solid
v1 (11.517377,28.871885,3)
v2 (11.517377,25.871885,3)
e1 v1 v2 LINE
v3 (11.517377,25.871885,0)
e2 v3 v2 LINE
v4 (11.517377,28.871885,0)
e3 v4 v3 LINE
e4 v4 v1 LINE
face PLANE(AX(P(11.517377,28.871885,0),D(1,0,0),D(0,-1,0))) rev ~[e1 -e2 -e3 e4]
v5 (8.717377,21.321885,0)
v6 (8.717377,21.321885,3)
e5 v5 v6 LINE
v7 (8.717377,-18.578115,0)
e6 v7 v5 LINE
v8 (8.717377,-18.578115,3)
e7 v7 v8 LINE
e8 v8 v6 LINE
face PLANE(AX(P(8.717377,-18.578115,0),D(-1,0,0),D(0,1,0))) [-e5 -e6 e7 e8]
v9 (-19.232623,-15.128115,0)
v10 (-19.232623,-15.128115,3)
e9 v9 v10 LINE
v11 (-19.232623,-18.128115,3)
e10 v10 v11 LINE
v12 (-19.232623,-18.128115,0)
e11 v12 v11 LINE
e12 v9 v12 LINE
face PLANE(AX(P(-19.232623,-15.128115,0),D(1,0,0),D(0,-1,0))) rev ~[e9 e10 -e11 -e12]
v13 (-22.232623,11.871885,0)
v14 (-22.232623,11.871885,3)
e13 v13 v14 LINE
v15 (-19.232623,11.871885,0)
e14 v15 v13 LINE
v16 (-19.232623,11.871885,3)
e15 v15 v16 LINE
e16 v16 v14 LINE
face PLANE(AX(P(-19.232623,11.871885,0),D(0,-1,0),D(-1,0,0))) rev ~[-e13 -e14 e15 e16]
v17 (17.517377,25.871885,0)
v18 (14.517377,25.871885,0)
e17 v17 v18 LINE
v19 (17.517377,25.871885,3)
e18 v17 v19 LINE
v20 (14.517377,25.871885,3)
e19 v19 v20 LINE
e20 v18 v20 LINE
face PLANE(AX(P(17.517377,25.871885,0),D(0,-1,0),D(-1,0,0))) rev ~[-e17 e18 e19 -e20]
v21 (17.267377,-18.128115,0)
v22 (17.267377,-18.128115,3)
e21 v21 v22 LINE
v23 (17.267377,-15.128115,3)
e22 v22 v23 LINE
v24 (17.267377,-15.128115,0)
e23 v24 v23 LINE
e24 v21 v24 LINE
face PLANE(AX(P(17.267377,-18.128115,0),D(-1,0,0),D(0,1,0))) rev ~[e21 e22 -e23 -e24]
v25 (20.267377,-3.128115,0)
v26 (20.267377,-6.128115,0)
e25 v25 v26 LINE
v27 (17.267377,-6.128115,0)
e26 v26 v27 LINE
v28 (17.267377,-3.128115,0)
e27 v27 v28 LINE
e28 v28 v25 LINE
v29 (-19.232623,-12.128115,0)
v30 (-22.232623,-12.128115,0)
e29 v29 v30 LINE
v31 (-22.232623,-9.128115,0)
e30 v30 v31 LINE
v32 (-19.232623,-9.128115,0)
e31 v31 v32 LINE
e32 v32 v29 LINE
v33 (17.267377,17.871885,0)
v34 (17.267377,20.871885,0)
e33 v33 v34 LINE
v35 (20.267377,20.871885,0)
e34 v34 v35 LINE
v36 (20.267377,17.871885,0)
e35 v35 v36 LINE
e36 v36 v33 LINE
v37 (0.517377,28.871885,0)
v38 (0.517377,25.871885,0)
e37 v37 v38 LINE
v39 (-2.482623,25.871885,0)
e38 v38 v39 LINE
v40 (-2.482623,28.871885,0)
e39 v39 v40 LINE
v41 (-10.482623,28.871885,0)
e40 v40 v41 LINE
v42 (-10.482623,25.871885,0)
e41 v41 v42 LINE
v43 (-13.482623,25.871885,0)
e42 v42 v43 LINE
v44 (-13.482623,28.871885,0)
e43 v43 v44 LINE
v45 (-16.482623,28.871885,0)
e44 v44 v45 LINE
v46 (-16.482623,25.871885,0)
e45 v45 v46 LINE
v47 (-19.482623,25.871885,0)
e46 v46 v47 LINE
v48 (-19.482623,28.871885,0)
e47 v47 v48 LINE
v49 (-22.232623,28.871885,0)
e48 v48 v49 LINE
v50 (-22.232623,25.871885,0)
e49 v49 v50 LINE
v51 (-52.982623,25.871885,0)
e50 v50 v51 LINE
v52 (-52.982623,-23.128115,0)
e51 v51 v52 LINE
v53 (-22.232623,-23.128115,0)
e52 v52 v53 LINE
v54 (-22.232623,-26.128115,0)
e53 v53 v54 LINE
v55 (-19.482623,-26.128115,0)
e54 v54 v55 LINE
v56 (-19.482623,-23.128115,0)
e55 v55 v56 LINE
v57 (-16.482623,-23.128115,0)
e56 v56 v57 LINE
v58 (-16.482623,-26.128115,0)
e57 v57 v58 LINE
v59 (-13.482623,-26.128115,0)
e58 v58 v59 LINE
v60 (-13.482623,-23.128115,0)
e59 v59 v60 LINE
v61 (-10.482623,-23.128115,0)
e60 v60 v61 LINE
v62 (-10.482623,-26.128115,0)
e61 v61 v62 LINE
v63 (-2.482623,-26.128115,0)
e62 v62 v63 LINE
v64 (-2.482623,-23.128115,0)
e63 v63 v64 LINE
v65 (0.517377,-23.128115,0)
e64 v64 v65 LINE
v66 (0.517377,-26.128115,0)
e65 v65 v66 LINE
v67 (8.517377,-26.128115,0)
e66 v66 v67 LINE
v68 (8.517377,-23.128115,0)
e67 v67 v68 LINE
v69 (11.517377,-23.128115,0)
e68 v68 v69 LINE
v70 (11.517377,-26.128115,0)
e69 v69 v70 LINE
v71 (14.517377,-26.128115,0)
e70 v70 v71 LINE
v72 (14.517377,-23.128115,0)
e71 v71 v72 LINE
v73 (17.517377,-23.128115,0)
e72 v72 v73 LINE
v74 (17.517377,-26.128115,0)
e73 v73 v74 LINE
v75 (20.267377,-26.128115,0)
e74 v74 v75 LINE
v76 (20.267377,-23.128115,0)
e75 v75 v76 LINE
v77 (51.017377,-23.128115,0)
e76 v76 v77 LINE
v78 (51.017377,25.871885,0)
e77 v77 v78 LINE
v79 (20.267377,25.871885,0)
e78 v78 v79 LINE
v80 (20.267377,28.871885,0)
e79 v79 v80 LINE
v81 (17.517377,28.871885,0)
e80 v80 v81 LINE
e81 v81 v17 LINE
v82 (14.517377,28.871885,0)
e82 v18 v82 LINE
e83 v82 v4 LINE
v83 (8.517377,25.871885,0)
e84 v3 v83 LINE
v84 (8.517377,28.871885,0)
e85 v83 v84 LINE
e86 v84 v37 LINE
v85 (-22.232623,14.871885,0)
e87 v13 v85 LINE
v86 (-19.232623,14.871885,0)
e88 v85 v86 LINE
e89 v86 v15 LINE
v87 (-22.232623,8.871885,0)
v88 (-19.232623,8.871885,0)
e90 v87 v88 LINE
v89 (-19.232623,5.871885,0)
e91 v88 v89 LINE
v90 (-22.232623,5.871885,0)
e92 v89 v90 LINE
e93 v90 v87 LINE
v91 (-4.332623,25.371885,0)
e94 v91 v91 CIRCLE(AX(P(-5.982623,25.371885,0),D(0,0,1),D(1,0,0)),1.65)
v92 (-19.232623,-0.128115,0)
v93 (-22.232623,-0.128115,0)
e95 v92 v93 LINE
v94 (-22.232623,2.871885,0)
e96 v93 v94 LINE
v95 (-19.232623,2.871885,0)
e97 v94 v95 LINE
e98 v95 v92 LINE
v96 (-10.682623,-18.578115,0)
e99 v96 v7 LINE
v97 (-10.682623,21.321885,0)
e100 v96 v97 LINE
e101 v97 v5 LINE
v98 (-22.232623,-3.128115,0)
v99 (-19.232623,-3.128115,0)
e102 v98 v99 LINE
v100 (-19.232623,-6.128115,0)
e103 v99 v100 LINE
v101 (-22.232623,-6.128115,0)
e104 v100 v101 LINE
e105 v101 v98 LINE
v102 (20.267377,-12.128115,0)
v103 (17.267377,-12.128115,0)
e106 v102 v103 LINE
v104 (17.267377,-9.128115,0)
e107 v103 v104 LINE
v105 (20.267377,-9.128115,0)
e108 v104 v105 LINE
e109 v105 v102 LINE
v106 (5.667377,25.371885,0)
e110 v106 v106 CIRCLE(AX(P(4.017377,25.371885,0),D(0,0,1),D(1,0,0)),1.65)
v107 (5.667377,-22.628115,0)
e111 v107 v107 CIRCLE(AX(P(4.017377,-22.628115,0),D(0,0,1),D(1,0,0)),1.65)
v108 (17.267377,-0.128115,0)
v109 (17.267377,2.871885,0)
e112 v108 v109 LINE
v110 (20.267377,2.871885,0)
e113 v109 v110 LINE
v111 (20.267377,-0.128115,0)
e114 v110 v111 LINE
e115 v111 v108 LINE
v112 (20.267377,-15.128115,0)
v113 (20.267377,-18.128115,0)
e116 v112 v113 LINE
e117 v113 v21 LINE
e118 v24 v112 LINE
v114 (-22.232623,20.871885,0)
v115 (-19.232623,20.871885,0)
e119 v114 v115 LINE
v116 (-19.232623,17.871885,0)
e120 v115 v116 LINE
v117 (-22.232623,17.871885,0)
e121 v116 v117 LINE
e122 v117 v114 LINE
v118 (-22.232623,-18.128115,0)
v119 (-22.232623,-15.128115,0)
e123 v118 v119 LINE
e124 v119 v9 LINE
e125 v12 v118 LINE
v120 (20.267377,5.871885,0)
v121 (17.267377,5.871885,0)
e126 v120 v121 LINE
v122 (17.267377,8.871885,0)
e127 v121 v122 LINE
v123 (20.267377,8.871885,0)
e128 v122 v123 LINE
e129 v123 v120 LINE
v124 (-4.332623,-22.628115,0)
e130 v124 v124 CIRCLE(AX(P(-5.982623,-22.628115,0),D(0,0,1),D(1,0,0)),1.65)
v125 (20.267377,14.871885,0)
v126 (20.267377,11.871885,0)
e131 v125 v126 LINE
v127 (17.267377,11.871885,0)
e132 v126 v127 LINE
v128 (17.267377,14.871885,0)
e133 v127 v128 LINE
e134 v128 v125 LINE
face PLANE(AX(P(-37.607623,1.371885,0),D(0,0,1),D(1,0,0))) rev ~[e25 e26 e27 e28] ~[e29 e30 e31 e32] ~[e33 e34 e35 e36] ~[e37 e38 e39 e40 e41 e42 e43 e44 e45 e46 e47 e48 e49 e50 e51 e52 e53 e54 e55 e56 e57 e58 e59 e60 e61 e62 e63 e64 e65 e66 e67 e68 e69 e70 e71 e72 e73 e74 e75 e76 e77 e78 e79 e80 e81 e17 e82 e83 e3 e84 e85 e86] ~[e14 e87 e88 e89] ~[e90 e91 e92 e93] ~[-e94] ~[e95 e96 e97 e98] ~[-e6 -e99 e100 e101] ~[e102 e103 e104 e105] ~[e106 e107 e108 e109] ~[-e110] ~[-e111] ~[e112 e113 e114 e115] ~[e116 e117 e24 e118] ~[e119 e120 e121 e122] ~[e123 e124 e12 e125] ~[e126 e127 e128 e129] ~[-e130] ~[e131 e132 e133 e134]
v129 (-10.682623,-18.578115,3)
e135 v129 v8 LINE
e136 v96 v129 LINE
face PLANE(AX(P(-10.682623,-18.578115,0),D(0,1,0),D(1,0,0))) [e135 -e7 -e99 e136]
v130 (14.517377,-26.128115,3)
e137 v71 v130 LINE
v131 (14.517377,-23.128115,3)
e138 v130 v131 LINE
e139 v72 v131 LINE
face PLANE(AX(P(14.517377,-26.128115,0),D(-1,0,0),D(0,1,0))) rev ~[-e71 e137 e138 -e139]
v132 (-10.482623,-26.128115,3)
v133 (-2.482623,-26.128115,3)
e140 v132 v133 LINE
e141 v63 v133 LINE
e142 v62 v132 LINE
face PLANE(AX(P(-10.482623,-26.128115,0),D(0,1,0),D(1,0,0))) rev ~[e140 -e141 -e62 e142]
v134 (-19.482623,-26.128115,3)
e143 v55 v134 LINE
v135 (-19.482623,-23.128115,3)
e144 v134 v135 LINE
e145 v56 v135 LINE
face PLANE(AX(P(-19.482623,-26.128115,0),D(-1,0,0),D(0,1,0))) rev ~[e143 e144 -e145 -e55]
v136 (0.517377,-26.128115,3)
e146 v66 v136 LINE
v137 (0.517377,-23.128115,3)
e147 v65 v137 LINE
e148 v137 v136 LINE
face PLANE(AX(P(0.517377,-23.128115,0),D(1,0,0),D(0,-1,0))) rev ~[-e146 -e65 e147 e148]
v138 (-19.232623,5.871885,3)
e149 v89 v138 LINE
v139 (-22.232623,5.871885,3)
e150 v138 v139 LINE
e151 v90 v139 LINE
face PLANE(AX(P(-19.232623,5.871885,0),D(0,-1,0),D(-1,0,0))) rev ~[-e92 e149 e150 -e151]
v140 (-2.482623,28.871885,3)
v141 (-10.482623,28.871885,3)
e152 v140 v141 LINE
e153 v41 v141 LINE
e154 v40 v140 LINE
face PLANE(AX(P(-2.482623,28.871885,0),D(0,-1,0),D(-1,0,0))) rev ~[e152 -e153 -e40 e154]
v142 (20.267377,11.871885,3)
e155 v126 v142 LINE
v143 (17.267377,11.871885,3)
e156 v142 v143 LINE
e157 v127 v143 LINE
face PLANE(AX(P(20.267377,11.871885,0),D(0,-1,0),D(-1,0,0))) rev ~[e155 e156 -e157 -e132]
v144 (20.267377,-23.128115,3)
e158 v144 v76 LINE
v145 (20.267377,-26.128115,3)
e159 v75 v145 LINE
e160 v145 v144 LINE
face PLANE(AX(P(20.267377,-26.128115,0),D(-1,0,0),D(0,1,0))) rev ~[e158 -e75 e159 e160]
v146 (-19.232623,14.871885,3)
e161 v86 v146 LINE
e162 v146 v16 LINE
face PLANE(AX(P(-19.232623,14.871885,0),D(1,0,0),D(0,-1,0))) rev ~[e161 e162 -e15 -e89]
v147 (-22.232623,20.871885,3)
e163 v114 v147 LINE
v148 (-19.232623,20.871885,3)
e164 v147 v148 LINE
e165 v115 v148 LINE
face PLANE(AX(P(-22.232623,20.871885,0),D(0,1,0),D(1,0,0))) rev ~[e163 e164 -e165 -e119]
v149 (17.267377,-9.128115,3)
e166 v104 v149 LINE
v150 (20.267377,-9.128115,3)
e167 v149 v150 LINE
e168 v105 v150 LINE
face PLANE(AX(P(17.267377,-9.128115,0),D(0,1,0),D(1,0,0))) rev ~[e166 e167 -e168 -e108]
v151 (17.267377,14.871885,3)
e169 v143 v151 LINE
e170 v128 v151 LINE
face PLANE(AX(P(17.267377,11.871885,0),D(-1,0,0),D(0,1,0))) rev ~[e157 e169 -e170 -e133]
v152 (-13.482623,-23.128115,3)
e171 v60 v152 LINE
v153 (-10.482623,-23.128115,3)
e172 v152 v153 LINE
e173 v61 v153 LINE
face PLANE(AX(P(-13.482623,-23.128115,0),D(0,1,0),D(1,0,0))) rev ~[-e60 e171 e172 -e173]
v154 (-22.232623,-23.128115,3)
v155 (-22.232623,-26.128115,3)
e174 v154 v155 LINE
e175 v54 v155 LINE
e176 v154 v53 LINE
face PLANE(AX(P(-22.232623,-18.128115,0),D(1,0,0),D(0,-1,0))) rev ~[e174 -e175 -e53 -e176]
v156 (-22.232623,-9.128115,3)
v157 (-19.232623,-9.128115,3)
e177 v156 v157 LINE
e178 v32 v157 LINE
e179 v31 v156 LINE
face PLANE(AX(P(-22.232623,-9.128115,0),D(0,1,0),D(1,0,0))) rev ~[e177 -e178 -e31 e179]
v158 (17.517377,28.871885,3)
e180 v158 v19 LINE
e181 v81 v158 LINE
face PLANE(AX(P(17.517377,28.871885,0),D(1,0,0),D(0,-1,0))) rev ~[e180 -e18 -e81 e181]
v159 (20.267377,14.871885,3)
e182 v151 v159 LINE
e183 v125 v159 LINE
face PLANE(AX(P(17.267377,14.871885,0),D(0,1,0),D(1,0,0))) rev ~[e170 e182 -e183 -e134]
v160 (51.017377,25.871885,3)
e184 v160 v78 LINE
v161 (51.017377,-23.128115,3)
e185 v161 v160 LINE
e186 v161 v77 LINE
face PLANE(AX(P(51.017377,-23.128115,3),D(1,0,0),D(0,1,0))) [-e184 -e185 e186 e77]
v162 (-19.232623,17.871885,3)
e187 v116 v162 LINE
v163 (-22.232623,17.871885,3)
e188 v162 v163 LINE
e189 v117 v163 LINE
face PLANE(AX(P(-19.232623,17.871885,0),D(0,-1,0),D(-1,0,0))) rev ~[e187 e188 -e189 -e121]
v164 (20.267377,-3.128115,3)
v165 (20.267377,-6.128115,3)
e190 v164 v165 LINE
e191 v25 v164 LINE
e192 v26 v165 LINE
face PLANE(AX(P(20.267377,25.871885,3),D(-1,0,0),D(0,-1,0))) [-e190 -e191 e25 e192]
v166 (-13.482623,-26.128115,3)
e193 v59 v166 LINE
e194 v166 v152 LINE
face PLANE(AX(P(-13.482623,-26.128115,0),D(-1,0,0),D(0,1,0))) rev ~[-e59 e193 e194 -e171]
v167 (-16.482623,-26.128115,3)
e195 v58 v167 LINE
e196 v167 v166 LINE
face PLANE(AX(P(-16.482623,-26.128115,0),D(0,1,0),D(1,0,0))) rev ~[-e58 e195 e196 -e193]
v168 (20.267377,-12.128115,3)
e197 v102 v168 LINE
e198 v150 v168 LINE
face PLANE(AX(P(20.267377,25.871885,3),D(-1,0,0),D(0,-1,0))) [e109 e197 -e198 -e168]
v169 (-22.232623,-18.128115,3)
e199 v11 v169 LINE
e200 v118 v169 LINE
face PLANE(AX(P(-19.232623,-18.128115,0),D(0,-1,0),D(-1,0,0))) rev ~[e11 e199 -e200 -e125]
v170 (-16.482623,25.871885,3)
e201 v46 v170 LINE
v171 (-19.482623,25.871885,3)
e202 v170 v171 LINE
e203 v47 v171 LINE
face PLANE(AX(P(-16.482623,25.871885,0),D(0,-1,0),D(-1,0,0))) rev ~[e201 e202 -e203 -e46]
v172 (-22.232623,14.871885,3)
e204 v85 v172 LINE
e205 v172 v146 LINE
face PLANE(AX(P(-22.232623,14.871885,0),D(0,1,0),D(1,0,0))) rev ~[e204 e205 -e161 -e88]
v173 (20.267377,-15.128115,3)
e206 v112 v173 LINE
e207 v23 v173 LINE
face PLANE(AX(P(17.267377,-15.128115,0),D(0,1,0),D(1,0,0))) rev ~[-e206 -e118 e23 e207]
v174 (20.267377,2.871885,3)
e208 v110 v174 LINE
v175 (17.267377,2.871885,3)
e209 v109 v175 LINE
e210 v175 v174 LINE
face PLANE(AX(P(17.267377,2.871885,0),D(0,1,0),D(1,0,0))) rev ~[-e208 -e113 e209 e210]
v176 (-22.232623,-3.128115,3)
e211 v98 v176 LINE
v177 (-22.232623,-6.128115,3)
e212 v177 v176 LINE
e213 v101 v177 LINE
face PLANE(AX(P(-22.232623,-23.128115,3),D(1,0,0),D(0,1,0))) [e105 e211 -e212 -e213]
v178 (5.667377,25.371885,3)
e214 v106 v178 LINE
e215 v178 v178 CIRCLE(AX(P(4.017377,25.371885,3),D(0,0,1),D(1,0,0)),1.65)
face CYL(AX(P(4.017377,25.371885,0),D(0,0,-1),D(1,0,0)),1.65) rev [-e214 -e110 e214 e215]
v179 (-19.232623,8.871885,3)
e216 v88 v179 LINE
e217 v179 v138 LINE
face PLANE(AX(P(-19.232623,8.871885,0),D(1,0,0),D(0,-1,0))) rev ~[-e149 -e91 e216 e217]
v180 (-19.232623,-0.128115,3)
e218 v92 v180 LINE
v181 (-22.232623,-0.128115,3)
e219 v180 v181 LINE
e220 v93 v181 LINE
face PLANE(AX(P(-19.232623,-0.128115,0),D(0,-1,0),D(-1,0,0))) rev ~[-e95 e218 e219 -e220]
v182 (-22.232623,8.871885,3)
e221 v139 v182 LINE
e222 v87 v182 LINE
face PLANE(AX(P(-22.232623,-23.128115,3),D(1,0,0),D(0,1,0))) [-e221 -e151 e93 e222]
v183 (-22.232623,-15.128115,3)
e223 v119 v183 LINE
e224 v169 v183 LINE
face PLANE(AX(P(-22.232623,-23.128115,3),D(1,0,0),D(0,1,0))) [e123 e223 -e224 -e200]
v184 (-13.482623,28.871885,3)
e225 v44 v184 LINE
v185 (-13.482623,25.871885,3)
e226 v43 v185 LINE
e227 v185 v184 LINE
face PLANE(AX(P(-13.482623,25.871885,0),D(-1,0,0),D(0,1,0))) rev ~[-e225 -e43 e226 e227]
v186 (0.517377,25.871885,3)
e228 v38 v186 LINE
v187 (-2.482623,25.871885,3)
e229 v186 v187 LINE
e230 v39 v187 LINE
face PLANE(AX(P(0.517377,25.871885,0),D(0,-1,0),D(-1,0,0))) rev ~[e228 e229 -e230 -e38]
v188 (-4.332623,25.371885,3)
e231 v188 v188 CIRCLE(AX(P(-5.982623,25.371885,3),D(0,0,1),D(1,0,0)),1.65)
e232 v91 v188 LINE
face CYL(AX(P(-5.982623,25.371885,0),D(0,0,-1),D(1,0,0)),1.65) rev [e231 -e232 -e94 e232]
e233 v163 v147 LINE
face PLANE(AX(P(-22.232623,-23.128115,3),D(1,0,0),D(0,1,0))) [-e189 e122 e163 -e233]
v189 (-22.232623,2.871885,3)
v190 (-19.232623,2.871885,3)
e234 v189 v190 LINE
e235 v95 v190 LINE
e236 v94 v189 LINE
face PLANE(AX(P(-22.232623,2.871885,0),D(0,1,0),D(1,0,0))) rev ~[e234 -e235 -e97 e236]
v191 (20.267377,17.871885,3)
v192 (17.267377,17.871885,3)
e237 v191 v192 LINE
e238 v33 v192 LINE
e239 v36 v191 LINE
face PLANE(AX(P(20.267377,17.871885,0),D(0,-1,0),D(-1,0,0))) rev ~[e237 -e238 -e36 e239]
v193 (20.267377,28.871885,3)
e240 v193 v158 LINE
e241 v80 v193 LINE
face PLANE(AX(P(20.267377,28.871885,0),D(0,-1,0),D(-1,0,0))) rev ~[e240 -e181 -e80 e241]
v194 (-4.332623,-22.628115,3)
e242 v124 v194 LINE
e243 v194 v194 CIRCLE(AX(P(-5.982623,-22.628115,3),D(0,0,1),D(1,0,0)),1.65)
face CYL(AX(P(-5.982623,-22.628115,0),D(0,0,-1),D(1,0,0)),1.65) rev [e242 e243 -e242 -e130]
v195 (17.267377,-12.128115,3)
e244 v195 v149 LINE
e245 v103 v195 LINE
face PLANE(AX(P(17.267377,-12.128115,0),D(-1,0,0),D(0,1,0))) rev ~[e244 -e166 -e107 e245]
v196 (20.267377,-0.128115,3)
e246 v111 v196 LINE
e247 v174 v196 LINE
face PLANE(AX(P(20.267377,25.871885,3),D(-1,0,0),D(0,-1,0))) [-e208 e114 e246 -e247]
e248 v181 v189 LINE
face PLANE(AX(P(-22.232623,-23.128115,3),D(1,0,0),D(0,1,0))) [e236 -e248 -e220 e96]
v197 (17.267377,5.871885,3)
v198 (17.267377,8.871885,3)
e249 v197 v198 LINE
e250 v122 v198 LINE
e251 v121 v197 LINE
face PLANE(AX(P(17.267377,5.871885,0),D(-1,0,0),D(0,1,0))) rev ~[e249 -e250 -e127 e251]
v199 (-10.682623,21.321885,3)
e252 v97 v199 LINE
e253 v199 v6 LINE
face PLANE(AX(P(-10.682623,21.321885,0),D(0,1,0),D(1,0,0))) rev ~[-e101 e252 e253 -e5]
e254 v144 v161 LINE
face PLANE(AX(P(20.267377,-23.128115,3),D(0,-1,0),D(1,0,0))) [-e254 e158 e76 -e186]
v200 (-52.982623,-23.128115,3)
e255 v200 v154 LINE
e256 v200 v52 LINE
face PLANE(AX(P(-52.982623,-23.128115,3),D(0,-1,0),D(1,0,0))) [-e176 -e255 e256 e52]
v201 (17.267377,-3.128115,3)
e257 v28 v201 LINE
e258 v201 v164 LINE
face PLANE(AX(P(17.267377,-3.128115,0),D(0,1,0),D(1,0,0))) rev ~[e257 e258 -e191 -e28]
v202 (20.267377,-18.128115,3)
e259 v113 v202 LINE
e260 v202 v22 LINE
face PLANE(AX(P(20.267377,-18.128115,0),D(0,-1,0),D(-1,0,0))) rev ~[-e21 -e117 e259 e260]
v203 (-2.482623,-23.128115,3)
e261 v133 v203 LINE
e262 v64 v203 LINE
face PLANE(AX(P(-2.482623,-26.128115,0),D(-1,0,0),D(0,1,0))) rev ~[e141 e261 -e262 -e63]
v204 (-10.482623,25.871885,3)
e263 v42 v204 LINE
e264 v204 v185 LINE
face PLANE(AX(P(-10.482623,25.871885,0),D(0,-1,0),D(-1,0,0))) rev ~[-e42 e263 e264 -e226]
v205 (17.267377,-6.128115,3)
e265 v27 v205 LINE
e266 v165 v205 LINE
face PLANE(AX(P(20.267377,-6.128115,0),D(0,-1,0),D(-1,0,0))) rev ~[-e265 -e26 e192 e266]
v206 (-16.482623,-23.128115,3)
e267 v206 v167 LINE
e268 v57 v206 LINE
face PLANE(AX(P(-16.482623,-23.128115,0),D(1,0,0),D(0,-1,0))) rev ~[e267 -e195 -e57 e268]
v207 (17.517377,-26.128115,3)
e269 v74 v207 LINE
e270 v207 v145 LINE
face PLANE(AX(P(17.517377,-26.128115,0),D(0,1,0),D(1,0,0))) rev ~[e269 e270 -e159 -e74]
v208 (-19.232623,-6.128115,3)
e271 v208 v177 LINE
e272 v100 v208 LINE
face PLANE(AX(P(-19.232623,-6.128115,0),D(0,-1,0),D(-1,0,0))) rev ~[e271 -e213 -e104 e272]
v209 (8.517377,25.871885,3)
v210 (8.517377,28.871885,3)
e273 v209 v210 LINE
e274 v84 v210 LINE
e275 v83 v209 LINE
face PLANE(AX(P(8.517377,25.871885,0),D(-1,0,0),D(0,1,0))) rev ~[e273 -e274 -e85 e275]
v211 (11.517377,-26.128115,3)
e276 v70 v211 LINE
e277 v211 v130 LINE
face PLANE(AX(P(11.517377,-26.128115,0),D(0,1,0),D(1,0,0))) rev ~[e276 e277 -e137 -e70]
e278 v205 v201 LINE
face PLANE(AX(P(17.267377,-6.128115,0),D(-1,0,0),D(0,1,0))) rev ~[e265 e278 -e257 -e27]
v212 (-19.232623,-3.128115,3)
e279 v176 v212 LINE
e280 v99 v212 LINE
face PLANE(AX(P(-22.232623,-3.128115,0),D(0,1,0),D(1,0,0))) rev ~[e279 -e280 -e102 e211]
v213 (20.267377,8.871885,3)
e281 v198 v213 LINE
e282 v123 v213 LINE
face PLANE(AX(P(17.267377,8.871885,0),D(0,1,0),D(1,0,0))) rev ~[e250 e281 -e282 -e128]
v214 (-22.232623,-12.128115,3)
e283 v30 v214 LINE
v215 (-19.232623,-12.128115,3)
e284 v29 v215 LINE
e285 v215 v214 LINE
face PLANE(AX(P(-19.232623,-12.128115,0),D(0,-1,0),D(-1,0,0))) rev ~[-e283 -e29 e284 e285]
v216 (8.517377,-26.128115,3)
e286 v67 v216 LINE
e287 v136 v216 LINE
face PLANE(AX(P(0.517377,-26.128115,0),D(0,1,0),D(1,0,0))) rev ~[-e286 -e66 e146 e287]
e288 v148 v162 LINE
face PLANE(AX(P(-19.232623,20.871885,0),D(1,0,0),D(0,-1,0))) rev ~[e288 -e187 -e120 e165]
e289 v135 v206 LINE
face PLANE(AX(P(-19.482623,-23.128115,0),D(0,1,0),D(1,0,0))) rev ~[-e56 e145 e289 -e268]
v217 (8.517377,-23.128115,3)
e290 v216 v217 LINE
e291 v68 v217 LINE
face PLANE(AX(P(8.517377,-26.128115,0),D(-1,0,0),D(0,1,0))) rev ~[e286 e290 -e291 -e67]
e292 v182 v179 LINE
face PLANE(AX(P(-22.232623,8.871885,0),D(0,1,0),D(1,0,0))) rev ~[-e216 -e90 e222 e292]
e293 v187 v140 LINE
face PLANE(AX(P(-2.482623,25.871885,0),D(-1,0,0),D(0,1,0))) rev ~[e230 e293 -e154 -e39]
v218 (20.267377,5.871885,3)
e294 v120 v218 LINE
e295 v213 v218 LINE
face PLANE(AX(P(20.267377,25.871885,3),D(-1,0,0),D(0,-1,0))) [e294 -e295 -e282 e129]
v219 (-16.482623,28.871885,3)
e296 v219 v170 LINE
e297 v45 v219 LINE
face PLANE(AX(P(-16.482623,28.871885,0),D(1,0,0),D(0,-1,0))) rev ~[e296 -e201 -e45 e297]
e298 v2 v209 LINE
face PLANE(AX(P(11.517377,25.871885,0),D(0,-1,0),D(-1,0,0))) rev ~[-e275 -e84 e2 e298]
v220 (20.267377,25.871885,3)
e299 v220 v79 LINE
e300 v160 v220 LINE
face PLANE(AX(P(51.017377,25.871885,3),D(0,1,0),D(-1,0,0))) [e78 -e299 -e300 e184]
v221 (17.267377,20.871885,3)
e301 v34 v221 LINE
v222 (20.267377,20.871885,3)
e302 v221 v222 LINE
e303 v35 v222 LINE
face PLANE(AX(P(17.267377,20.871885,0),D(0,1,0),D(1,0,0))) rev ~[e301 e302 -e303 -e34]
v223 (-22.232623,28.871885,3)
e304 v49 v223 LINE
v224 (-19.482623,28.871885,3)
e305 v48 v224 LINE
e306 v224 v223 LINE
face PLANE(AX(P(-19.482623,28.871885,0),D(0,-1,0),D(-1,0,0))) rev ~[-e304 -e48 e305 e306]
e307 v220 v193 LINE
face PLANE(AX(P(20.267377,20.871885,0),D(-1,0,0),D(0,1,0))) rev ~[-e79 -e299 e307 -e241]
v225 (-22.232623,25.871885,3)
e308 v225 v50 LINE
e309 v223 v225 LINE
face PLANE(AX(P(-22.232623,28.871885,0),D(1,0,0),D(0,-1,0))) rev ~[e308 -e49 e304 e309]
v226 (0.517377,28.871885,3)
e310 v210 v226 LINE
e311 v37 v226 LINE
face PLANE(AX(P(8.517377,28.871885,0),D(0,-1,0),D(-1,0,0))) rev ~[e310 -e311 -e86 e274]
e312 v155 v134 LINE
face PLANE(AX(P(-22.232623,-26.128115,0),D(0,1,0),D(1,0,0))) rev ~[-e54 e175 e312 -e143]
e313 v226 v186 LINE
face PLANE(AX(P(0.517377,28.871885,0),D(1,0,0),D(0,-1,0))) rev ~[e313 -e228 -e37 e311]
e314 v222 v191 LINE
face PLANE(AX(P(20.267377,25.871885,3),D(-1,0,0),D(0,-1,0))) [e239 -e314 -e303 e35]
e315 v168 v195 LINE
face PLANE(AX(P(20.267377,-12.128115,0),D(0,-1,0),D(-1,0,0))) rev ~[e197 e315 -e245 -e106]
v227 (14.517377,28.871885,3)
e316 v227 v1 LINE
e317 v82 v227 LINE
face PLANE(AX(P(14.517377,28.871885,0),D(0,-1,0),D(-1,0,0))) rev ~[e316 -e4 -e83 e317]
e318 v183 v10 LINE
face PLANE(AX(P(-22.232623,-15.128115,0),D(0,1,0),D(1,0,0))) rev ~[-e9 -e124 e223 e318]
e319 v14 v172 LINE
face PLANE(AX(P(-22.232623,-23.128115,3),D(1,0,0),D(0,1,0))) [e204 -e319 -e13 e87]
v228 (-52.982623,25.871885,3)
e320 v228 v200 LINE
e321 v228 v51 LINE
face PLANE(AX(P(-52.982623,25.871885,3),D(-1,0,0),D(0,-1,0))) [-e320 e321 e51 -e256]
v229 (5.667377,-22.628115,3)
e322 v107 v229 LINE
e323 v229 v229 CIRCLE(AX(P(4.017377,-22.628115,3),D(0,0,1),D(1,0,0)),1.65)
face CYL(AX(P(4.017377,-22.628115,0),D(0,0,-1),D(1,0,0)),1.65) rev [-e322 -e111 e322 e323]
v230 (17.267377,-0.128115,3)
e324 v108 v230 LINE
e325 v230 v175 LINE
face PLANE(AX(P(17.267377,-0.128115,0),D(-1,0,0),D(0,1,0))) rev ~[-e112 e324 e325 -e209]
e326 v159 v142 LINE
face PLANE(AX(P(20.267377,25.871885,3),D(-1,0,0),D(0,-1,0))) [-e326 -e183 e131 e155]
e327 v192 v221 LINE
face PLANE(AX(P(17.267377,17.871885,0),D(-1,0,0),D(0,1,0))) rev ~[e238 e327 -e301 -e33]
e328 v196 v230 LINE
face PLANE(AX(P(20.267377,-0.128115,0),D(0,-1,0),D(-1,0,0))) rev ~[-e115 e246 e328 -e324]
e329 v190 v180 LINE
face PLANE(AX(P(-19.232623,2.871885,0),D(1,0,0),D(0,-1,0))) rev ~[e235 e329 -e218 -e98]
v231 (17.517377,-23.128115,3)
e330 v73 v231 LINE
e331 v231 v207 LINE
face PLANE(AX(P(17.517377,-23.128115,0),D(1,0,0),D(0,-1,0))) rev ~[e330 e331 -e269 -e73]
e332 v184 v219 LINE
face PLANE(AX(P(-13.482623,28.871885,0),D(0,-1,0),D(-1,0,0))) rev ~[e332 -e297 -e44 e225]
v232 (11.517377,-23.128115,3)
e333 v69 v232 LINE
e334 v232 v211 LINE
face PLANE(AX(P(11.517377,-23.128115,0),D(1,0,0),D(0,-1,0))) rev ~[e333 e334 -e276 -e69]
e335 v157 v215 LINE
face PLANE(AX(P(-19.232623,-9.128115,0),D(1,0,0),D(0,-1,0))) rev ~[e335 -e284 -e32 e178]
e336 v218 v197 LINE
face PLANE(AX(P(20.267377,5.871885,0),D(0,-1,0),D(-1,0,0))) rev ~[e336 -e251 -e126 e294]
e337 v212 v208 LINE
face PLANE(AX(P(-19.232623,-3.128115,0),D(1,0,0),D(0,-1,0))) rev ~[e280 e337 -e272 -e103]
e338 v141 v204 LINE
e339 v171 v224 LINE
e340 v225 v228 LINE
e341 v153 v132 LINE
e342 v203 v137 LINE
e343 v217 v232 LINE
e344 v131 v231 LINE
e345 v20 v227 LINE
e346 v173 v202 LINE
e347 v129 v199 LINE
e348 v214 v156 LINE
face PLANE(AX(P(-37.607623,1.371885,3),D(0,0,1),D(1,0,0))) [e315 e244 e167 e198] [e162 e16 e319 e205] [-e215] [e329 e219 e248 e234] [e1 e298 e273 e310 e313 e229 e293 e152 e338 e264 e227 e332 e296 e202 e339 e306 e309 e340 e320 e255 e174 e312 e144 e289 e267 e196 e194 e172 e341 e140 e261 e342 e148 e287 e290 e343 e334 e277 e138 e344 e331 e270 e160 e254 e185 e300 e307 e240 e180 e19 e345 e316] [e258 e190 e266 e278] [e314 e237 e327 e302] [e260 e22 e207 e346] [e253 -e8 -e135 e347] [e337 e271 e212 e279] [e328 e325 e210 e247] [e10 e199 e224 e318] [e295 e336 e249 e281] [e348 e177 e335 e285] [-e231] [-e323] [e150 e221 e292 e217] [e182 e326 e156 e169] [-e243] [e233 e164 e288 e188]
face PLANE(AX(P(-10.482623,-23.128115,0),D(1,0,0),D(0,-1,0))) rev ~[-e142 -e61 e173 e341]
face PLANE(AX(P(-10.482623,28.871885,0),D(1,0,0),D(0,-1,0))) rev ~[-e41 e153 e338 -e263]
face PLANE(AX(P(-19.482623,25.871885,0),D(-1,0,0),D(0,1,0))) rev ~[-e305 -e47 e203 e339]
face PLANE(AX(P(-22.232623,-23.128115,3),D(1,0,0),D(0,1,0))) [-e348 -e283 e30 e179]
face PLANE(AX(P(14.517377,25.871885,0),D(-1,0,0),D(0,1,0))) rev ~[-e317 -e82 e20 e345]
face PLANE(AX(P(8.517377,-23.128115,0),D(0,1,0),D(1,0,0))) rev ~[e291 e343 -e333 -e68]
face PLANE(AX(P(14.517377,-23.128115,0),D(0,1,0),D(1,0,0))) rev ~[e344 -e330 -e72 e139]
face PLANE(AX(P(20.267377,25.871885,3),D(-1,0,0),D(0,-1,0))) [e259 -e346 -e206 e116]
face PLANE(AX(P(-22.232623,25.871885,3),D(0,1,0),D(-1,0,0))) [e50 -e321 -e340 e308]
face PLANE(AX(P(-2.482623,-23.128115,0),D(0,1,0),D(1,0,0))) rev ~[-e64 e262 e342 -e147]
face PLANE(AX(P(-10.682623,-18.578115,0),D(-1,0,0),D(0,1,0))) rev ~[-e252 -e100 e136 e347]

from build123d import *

# Parameters (mm, degrees)
F0_R     = 1.65
F0_W     = 19.4
F0_H     = 39.9
F1_DEPTH = 3
F3_DEPTH = 3


with BuildPart() as f1:
    # F0 (on Top) → F1 (new body)
    with BuildSketch(Plane.XY):
        Polygon((17.517377, -26.128115), (20.267377, -26.128115), (20.267377, -18.128115), (17.267377, -18.128115), (17.267377, -15.128115), (20.267377, -15.128115), (20.267377, -12.128115), (17.267377, -12.128115), (17.267377, -9.128115), (20.267377, -9.128115), (20.267377, -6.128115), (17.267377, -6.128115), (17.267377, -3.128115), (20.267377, -3.128115), (20.267377, -0.128115), (17.267377, -0.128115), (17.267377, 2.871885), (20.267377, 2.871885), (20.267377, 5.871885), (17.267377, 5.871885), (17.267377, 8.871885), (20.267377, 8.871885), (20.267377, 11.871885), (17.267377, 11.871885), (17.267377, 14.871885), (20.267377, 14.871885), (20.267377, 17.871885), (17.267377, 17.871885), (17.267377, 20.871885), (20.267377, 20.871885), (20.267377, 28.871885), (17.517377, 28.871885), (17.517377, 25.871885), (14.517377, 25.871885), (14.517377, 28.871885), (11.517377, 28.871885), (11.517377, 25.871885), (8.517377, 25.871885), (8.517377, 28.871885), (0.517377, 28.871885), (0.517377, 25.871885), (-2.482623, 25.871885), (-2.482623, 28.871885), (-10.482623, 28.871885), (-10.482623, 25.871885), (-13.482623, 25.871885), (-13.482623, 28.871885), (-16.482623, 28.871885), (-16.482623, 25.871885), (-19.482623, 25.871885), (-19.482623, 28.871885), (-22.232623, 28.871885), (-22.232623, 20.871885), (-19.232623, 20.871885), (-19.232623, 17.871885), (-22.232623, 17.871885), (-22.232623, 14.871885), (-19.232623, 14.871885), (-19.232623, 11.871885), (-22.232623, 11.871885), (-22.232623, 8.871885), (-19.232623, 8.871885), (-19.232623, 5.871885), (-22.232623, 5.871885), (-22.232623, 2.871885), (-19.232623, 2.871885), (-19.232623, -0.128115), (-22.232623, -0.128115), (-22.232623, -3.128115), (-19.232623, -3.128115), (-19.232623, -6.128115), (-22.232623, -6.128115), (-22.232623, -9.128115), (-19.232623, -9.128115), (-19.232623, -12.128115), (-22.232623, -12.128115), (-22.232623, -15.128115), (-19.232623, -15.128115), (-19.232623, -18.128115), (-22.232623, -18.128115), (-22.232623, -26.128115), (-19.482623, -26.128115), (-19.482623, -23.128115), (-16.482623, -23.128115), (-16.482623, -26.128115), (-13.482623, -26.128115), (-13.482623, -23.128115), (-10.482623, -23.128115), (-10.482623, -26.128115), (-2.482623, -26.128115), (-2.482623, -23.128115), (0.517377, -23.128115), (0.517377, -26.128115), (8.517377, -26.128115), (8.517377, -23.128115), (11.517377, -23.128115), (11.517377, -26.128115), (14.517377, -26.128115), (14.517377, -23.128115), (17.517377, -23.128115), align=None)
        with Locations((-5.982623, -22.628115)):
            Circle(F0_R, mode=Mode.SUBTRACT)
        with Locations((4.017377, -22.628115)):
            Circle(F0_R, mode=Mode.SUBTRACT)
        with Locations((-0.982623, 1.371885)):
            Rectangle(F0_W, F0_H, mode=Mode.SUBTRACT)
        with Locations((-5.982623, 25.371885)):
            Circle(F0_R, mode=Mode.SUBTRACT)
        with Locations((4.017377, 25.371885)):
            Circle(F0_R, mode=Mode.SUBTRACT)
    extrude(amount=F1_DEPTH)

    # F2 (on face) → F3 (join)
    with BuildSketch(Plane.XY.offset(3)):
        Polygon((-52.982623, -23.128115), (-22.232623, -23.128115), (-22.232623, -18.128115), (-22.232623, -15.128115), (-22.232623, -12.128115), (-22.232623, -9.128115), (-22.232623, -6.128115), (-22.232623, -3.128115), (-22.232623, -0.128115), (-22.232623, 2.871885), (-22.232623, 5.871885), (-22.232623, 8.871885), (-22.232623, 11.871885), (-22.232623, 14.871885), (-22.232623, 17.871885), (-22.232623, 20.871885), (-22.232623, 25.871885), (-52.982623, 25.871885), align=None)
        Polygon((20.267377, -18.128115), (20.267377, -23.128115), (51.017377, -23.128115), (51.017377, 25.871885), (20.267377, 25.871885), (20.267377, 20.871885), (20.267377, 17.871885), (20.267377, 14.871885), (20.267377, 11.871885), (20.267377, 8.871885), (20.267377, 5.871885), (20.267377, 2.871885), (20.267377, -0.128115), (20.267377, -3.128115), (20.267377, -6.128115), (20.267377, -9.128115), (20.267377, -12.128115), (20.267377, -15.128115), align=None)
    extrude(amount=-F3_DEPTH)


solid = f1.part
